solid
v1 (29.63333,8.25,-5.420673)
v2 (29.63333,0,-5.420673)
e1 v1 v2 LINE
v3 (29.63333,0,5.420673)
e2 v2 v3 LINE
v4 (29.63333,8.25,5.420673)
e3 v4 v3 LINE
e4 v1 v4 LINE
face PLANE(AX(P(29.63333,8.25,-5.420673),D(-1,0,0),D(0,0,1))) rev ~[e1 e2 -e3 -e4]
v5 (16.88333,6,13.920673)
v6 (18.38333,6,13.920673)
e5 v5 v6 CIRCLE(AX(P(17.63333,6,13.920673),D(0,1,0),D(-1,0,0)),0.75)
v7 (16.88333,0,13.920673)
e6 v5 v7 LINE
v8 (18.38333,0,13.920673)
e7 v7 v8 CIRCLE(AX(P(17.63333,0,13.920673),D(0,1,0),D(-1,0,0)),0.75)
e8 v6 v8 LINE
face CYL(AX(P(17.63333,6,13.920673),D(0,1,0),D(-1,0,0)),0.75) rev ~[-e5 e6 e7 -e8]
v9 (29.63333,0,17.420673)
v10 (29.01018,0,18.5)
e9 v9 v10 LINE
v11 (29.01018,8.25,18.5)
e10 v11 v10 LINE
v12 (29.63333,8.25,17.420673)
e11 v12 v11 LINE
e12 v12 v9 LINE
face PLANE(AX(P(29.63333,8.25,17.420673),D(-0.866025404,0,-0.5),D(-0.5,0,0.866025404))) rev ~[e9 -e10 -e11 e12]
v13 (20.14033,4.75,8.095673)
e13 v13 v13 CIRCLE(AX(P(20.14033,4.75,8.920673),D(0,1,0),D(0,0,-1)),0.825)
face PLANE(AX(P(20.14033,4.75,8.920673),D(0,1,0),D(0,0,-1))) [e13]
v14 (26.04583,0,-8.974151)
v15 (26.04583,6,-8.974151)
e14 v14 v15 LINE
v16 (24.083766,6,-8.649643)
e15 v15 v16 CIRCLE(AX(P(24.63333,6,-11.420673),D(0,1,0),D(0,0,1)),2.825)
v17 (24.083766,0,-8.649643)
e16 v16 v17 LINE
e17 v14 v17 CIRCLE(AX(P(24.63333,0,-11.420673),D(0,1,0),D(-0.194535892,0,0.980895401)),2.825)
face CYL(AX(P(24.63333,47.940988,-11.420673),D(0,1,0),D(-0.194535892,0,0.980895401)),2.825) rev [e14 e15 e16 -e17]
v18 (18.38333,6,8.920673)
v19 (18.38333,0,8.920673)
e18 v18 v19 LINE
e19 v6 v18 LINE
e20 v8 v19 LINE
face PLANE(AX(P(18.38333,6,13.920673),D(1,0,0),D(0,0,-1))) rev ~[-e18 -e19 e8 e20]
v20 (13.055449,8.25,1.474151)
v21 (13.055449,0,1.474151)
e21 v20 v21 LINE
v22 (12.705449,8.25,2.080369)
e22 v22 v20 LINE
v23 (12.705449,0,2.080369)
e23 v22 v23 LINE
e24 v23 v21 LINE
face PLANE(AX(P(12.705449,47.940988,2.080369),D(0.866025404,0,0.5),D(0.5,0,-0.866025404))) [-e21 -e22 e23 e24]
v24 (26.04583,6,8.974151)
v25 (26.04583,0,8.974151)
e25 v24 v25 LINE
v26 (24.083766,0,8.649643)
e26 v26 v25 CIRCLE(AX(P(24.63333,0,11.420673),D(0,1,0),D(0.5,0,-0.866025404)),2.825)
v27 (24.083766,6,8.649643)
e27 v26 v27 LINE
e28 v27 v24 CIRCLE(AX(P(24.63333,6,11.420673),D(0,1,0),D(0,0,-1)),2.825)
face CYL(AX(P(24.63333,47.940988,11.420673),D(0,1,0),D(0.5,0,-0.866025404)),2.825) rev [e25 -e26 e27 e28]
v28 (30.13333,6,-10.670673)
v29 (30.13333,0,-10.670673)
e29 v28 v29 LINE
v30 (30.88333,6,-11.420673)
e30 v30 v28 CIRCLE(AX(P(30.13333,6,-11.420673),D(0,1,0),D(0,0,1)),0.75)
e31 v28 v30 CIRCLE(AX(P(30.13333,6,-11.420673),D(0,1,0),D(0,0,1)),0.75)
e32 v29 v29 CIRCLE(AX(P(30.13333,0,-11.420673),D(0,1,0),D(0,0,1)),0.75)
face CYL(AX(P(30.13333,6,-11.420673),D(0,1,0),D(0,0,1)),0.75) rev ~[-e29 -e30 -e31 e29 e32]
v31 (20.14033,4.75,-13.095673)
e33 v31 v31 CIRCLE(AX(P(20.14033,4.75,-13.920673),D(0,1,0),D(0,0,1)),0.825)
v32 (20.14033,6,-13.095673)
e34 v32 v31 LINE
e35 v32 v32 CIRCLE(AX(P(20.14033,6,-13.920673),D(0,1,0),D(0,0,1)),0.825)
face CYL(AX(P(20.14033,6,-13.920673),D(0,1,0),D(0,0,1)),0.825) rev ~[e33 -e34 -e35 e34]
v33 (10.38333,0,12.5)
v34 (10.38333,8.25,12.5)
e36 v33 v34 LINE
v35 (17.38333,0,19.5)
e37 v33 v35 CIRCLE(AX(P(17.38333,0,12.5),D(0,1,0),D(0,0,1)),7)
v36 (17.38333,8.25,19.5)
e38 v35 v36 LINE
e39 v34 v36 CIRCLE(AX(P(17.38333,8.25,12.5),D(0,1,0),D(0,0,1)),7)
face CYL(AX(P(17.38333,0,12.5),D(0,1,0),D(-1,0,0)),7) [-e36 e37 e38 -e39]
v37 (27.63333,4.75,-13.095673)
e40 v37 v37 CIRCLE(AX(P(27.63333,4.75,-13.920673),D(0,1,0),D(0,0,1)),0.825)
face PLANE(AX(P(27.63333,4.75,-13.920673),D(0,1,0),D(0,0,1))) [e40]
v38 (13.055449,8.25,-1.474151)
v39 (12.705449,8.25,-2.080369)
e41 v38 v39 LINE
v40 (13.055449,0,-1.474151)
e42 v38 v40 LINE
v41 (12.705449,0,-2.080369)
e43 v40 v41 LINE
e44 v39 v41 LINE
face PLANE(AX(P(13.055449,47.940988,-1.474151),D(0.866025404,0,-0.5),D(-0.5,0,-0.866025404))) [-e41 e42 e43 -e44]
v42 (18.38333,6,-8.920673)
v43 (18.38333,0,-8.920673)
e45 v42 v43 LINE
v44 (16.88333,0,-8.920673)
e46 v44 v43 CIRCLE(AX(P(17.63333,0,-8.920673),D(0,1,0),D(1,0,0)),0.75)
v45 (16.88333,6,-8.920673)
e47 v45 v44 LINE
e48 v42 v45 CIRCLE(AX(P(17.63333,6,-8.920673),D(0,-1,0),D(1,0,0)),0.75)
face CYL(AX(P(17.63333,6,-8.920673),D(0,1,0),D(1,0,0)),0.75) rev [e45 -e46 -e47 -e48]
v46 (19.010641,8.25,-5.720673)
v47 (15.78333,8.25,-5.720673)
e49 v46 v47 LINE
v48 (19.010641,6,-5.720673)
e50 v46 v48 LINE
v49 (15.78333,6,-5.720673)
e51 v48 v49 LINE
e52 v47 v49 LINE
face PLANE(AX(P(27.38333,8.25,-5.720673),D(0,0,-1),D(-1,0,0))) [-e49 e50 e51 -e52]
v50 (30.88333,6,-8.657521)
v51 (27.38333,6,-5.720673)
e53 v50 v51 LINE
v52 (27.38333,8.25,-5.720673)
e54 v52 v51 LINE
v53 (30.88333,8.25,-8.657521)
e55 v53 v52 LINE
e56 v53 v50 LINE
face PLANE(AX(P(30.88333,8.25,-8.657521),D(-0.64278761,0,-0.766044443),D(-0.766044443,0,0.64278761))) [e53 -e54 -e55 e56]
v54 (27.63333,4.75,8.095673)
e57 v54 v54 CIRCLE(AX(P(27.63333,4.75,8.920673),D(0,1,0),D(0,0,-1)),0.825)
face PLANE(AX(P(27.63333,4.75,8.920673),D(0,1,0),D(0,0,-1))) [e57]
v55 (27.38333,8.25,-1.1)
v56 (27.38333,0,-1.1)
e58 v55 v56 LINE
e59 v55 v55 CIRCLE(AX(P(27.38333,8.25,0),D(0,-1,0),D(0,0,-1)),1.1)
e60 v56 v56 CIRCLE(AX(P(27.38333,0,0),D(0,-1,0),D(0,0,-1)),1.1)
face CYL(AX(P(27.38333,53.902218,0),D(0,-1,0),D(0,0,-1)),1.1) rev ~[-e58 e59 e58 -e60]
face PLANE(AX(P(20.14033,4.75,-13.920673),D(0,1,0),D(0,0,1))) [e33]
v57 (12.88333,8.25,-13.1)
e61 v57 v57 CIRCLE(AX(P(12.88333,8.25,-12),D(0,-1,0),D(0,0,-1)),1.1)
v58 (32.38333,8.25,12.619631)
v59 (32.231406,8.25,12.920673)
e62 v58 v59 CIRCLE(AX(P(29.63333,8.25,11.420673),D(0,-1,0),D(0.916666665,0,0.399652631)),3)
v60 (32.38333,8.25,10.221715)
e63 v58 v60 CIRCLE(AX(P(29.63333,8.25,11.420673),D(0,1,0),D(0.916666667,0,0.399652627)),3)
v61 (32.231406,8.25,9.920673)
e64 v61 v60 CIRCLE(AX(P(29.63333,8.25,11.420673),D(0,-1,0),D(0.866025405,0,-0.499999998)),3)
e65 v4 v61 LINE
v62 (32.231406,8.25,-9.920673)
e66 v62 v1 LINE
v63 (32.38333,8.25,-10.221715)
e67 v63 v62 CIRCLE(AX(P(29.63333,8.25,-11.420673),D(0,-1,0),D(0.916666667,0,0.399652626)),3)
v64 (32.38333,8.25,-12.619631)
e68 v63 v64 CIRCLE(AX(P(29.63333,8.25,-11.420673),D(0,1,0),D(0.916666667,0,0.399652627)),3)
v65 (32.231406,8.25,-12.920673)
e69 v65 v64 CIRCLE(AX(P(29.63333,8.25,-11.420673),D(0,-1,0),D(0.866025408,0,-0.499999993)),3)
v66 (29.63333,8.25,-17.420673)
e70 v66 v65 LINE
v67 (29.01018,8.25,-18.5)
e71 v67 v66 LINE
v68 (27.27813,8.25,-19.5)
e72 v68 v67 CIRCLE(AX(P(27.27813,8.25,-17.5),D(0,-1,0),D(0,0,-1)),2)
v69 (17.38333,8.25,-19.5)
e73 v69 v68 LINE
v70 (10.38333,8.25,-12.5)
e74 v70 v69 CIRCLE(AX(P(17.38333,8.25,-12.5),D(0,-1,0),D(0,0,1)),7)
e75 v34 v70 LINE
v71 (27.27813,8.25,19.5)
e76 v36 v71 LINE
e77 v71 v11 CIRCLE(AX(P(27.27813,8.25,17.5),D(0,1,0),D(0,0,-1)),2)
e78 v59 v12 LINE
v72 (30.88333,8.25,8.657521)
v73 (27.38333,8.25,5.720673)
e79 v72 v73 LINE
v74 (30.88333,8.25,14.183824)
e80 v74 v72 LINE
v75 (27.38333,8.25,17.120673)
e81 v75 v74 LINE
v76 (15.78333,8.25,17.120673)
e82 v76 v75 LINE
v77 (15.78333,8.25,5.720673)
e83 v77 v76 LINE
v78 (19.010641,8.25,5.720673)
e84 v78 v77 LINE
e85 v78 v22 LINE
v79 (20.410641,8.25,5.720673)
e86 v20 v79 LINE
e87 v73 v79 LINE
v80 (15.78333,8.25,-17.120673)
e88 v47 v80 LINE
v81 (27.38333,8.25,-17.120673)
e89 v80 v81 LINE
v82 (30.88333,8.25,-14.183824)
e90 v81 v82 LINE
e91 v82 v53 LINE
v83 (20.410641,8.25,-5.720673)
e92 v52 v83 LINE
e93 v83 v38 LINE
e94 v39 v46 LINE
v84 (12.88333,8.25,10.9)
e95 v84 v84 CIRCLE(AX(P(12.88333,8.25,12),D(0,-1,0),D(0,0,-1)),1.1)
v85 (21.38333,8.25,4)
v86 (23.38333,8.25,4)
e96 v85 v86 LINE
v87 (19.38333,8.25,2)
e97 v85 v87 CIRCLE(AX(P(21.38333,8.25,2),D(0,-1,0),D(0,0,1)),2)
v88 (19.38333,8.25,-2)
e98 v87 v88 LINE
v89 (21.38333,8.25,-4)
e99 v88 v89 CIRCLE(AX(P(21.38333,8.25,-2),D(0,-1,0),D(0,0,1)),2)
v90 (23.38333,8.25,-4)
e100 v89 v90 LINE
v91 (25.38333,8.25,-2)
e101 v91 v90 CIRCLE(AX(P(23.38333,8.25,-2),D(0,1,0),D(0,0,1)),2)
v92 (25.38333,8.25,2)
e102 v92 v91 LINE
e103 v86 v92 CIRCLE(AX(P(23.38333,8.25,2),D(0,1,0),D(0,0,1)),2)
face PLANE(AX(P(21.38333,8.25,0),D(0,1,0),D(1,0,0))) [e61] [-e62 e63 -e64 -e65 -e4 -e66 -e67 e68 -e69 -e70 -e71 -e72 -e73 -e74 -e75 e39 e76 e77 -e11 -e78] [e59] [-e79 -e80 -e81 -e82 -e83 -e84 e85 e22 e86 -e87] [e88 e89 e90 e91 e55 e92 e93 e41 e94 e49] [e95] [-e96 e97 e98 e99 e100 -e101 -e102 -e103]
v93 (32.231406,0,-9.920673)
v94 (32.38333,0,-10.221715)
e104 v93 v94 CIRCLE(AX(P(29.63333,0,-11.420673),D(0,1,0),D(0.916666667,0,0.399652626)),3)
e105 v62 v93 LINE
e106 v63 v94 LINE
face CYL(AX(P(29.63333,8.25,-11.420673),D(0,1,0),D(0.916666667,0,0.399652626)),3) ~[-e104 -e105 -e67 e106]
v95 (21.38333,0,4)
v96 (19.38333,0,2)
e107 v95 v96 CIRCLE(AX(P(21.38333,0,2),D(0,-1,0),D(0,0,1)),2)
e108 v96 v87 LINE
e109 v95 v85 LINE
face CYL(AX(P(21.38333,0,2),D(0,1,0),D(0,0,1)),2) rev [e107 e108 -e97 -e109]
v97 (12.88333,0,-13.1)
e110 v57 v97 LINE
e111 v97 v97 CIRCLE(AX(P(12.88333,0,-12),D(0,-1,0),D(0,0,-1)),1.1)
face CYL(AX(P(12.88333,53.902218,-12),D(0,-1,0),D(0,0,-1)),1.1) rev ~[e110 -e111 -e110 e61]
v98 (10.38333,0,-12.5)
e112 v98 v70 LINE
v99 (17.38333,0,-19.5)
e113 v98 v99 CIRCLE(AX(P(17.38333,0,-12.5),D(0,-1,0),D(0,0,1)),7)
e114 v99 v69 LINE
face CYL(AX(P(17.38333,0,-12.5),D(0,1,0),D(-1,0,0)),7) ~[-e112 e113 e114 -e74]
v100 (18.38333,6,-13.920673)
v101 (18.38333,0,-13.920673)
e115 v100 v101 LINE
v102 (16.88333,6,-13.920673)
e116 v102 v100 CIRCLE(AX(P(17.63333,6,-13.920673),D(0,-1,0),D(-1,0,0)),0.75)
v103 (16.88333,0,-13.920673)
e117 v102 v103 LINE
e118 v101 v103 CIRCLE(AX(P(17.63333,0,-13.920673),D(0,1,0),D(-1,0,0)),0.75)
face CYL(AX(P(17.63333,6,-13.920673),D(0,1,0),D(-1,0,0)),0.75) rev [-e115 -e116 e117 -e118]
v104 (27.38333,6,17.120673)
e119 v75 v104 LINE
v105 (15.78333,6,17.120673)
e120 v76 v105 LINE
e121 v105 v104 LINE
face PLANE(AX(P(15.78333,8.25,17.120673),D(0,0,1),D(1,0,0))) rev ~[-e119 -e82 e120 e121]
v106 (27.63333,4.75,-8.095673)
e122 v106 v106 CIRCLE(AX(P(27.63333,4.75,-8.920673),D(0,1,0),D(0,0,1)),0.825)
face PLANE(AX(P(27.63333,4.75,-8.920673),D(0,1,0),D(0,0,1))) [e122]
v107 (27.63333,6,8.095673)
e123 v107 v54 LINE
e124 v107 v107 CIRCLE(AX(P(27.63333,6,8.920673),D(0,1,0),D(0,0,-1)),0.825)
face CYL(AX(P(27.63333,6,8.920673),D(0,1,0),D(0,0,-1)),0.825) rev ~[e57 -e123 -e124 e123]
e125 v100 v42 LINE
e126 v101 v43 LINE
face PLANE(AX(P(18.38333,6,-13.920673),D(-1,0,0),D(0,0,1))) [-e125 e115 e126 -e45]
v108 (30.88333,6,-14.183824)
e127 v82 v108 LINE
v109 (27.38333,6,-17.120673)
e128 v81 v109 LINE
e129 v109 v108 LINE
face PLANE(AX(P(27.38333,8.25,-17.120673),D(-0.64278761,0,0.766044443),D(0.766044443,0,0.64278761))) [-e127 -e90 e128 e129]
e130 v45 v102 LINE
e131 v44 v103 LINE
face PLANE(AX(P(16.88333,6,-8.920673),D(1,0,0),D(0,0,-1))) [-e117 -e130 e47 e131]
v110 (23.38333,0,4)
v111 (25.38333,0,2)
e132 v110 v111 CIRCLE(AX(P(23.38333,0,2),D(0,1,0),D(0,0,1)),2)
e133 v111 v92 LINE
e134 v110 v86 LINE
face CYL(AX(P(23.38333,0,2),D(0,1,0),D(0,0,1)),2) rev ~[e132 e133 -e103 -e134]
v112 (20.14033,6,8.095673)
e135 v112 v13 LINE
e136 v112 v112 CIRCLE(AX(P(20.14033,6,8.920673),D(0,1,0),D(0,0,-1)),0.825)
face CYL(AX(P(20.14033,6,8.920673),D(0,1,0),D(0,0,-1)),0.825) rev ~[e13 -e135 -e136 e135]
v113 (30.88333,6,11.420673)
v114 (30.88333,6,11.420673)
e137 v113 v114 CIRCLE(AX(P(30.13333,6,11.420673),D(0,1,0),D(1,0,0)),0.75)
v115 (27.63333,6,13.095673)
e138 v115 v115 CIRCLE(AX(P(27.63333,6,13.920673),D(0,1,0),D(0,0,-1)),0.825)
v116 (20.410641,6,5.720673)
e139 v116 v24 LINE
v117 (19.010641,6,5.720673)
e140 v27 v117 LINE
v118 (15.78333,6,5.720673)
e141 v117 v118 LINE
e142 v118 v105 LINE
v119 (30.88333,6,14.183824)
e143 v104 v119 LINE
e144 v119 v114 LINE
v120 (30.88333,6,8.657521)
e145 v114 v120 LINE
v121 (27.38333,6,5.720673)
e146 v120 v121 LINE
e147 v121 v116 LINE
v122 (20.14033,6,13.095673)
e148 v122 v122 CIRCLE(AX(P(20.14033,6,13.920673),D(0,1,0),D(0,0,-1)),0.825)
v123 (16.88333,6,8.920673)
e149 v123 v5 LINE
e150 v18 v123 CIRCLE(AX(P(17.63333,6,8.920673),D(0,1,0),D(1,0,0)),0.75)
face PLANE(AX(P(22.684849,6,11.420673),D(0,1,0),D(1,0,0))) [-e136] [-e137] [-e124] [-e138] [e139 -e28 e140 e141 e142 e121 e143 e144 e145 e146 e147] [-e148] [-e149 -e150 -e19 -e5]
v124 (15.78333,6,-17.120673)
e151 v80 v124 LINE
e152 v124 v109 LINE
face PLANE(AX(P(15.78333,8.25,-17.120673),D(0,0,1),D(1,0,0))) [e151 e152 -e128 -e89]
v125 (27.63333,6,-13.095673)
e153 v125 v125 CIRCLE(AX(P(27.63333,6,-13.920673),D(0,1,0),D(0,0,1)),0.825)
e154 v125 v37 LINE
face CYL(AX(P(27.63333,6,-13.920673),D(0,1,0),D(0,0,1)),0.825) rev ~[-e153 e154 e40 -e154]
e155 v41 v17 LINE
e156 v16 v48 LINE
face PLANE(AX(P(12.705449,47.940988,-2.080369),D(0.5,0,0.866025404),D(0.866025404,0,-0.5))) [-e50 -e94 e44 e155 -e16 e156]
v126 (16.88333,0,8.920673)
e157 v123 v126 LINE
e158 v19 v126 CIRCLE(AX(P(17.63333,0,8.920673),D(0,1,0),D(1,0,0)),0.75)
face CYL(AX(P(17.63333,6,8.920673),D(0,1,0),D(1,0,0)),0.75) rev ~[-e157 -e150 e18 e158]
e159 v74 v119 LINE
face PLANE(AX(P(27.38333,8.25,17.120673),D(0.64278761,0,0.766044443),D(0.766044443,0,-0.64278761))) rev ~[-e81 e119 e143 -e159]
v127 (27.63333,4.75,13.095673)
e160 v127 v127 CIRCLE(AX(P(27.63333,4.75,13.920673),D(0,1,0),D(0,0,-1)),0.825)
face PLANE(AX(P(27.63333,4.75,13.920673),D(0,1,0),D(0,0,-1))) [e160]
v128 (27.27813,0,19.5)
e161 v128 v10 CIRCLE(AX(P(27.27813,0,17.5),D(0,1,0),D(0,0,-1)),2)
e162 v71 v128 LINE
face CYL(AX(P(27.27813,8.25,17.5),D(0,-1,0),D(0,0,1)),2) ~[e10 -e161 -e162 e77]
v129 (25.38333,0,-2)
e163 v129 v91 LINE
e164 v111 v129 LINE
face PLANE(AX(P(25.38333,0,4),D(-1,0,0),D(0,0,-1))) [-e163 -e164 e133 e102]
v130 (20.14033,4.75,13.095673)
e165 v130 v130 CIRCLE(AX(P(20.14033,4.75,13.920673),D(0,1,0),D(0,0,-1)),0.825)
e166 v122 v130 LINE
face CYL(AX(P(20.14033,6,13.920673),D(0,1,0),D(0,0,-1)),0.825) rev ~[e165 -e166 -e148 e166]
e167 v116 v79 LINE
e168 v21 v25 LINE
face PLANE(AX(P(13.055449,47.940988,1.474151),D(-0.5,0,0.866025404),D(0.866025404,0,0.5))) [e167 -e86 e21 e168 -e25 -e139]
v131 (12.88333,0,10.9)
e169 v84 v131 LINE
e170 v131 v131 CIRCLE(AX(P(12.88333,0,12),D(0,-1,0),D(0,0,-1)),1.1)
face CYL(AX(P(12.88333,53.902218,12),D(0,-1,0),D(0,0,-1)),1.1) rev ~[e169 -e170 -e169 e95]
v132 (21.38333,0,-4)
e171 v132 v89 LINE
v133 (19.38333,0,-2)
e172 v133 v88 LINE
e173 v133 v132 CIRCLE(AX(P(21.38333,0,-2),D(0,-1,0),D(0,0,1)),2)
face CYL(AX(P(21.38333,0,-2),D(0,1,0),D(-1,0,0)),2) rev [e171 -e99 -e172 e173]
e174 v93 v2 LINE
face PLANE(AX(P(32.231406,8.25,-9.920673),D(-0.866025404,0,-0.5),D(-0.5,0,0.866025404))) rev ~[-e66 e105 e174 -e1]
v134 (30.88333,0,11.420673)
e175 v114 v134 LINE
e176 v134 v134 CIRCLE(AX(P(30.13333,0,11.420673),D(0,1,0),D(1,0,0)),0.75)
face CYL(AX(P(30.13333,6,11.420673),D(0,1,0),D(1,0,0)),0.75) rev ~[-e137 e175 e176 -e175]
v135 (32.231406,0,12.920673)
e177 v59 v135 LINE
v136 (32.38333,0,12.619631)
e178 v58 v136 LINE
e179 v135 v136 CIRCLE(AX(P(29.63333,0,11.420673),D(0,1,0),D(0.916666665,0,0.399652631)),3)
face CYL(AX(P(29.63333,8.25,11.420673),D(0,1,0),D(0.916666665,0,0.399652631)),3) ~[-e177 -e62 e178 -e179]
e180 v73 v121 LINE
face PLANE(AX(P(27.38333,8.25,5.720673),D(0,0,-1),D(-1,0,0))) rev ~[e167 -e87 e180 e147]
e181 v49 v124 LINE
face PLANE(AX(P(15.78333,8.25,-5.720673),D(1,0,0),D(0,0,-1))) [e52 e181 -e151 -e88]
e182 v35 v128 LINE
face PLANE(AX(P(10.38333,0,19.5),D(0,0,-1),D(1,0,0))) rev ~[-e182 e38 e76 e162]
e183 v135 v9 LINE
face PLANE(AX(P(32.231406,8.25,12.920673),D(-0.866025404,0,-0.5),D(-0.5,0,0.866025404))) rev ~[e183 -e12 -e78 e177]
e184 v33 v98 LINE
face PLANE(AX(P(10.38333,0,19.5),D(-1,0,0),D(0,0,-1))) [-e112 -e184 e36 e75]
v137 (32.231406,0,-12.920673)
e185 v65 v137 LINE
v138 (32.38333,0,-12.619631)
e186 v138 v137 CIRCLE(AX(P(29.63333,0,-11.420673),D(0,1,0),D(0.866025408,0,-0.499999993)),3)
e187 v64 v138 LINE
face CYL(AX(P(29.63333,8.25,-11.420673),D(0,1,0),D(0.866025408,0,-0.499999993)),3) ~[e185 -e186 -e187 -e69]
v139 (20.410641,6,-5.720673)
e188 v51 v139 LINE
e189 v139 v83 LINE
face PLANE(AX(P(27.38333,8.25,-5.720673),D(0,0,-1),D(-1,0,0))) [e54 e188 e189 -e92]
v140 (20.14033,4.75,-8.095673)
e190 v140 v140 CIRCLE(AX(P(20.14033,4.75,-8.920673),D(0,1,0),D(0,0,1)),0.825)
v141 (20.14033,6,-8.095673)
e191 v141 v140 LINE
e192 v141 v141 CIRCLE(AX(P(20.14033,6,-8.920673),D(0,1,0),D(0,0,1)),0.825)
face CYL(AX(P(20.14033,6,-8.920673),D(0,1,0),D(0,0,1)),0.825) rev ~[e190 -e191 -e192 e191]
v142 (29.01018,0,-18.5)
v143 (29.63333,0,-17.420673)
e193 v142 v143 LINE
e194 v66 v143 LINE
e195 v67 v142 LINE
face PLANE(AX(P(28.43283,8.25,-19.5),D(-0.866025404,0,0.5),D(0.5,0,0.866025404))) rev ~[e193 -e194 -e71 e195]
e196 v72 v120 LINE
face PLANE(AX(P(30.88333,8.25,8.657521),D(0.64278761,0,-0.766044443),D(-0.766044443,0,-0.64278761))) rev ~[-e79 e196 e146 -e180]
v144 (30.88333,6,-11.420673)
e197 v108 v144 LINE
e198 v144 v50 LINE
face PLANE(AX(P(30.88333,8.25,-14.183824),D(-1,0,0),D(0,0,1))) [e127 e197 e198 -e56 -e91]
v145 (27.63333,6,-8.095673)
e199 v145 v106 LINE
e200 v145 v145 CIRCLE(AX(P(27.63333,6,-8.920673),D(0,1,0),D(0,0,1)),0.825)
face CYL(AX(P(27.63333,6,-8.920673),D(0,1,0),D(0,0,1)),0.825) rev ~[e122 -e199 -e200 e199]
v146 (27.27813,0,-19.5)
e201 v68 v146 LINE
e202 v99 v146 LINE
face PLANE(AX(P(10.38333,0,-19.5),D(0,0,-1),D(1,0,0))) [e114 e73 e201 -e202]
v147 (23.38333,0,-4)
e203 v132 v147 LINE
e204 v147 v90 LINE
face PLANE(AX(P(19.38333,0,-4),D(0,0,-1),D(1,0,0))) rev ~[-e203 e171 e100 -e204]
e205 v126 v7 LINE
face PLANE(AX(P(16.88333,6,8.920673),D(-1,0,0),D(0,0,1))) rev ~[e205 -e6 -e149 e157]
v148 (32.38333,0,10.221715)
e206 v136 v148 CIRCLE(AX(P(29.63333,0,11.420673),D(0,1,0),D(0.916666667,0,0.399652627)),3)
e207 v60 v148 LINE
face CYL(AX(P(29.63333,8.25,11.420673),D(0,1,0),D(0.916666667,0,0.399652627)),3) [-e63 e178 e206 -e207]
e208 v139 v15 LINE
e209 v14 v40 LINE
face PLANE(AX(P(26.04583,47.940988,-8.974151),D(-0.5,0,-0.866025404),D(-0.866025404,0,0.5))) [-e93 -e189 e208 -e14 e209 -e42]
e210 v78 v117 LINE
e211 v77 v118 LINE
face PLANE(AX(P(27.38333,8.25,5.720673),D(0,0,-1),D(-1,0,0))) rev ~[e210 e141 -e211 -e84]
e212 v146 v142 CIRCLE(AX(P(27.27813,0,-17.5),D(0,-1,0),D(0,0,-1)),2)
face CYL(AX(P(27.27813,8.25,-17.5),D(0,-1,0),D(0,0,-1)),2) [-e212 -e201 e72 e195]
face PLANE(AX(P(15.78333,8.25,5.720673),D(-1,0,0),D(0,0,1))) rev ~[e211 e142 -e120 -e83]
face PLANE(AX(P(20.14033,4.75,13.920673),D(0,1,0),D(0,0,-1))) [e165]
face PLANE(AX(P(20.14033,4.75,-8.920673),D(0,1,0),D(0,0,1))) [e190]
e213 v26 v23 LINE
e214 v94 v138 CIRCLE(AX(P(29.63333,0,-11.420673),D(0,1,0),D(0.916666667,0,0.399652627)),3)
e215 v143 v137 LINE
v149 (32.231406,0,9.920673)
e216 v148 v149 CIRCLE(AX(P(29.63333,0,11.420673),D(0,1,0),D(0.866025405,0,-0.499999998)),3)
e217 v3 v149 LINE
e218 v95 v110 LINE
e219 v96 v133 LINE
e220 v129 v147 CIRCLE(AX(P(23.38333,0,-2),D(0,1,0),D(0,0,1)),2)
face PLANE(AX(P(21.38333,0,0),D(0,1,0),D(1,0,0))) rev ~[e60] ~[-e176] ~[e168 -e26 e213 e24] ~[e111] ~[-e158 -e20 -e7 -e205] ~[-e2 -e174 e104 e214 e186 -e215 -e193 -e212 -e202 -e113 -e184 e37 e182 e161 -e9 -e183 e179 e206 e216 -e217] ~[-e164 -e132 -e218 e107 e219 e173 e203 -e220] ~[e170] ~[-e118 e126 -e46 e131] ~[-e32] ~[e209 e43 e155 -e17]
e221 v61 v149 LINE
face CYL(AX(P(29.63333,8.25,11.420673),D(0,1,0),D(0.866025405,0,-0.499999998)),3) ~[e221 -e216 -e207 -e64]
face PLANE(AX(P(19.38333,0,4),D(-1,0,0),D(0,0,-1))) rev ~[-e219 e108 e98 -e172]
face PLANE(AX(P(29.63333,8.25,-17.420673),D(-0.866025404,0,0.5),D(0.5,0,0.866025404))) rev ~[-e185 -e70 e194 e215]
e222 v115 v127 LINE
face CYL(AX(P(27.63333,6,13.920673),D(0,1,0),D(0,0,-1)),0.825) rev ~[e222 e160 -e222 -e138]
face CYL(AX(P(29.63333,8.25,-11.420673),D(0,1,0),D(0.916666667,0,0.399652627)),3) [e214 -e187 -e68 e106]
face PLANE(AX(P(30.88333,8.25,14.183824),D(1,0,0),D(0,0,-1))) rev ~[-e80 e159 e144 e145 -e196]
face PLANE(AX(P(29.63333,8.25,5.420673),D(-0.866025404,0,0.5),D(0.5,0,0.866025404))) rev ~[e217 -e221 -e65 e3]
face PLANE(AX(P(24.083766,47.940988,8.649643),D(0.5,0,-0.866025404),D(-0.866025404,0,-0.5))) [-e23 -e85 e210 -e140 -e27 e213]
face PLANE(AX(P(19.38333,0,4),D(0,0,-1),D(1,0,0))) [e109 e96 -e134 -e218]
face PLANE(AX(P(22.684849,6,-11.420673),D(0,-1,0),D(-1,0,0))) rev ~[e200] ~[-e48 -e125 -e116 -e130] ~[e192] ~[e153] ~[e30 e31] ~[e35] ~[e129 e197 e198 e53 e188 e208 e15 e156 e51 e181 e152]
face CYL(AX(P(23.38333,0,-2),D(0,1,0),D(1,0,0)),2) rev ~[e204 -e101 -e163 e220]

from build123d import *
from build123d.topology import SkipClean

# Parameters (mm, degrees)
SKETCH1_W                  = 22
SKETCH1_H                  = 39
SKETCH1_W_2                = 6
SKETCH1_H_2                = 8
BOSS_EXTRUDE1_DEPTH        = 8.25
CUT_EXTRUDE3_DEPTH         = 2.25
SKETCH7_R                  = 2.825
SKETCH7_R_2                = 0.825
CUT_EXTRUDE4_DEPTH         = 1.25
SKETCH9_R                  = 0.75
CUT_EXTRUDE5_DEPTH         = 39.274404999
CUT_EXTRUDE1_DEPTH         = 39.690988331
CUT_EXTRUDE1_DEPTH_BACK    = 39.690988331
SKETCH6_R                  = 2.825
BOSS_EXTRUDE2_DEPTH        = 8.25
FILLET4_R                  = 2
CUT_EXTRUDE7_DEPTH         = 39.900472274
FILLET5_R                  = 7
F_2_2_2_2_DIAMETER_HOLE1_D = 2.2
FILLET6_R                  = 2


with BuildPart() as part:
    # Sketch1 → Boss-Extrude1 (new body)
    with BuildSketch(Plane(origin=(0, 0, 0), x_dir=(1, 0, 0), z_dir=(0, 1, 0))):
        with Locations((21.383330249, 0)):
            Rectangle(SKETCH1_W, SKETCH1_H)
        with Locations((22.383330249, 0)):
            Rectangle(SKETCH1_W_2, SKETCH1_H_2, mode=Mode.SUBTRACT)
    extrude(amount=BOSS_EXTRUDE1_DEPTH)

    # Sketch8 → Cut-Extrude3 (cut)
    with BuildSketch(Plane(origin=(0, 8.25, 0), x_dir=(1, 0, 0), z_dir=(0, 1, 0))):
        Polygon((15.783330249, 17.120672783), (27.383330249, 17.120672783), (30.883330249, 14.183824074), (30.883330249, 8.657521492), (27.383330249, 5.720672783), (15.783330249, 5.720672783), align=None)
        Polygon((27.383330249, -17.120672783), (30.883330249, -14.183824074), (30.883330249, -8.657521492), (27.383330249, -5.720672783), (15.783330249, -5.720672783), (15.783330249, -17.120672783), align=None)
    extrude(amount=-CUT_EXTRUDE3_DEPTH, mode=Mode.SUBTRACT)

    # Sketch7 → Cut-Extrude4 (cut)
    with BuildSketch(Plane(origin=(0, 6, 0), x_dir=(1, 0, 0), z_dir=(0, 1, 0))):
        with Locations(Location((24.633330249, 11.420672783, 0), (0, 0, 270))):
            Circle(SKETCH7_R)
        with Locations(Location((20.140330249, 13.920672783, 0), (0, 0, 270))):
            Circle(SKETCH7_R_2)
        with Locations(Location((27.633330249, 13.920672783, 0), (0, 0, 270))):
            Circle(SKETCH7_R_2)
        with Locations(Location((27.633330249, 8.920672783, 0), (0, 0, 270))):
            Circle(SKETCH7_R_2)
        with Locations(Location((20.140330249, 8.920672783, 0), (0, 0, 270))):
            Circle(SKETCH7_R_2)
        with Locations(Location((20.140330249, -8.920672783, 0), (0, 0, 90))):
            Circle(SKETCH7_R_2)
        with Locations(Location((27.633330249, -8.920672783, 0), (0, 0, 90))):
            Circle(SKETCH7_R_2)
        with Locations(Location((27.633330249, -13.920672783, 0), (0, 0, 90))):
            Circle(SKETCH7_R_2)
        with Locations(Location((20.140330249, -13.920672783, 0), (0, 0, 90))):
            Circle(SKETCH7_R_2)
        with Locations(Location((24.633330249, -11.420672783, 0), (0, 0, 90))):
            Circle(SKETCH7_R)
    extrude(amount=-CUT_EXTRUDE4_DEPTH, mode=Mode.SUBTRACT)

    # Sketch9 → Cut-Extrude5 (cut, through all)
    with BuildSketch(Plane(origin=(0, 6, 0), x_dir=(1, 0, 0), z_dir=(0, 1, 0))):
        with Locations(Location((30.133330249, 11.420672783, 0), (0, 0, 270))):
            Circle(SKETCH9_R)
        with Locations((30.133330249, -11.420672783)):
            Circle(SKETCH9_R)
        with BuildLine():
            Line((16.883330249, 8.920672783), (16.883330249, 13.920672783))
            ThreePointArc((16.883330249, 13.920672783), (17.633330249, 14.670672783), (18.383330249, 13.920672783))
            Line((18.383330249, 13.920672783), (18.383330249, 8.920672783))
            ThreePointArc((18.383330249, 8.920672783), (17.633330249, 8.170672783), (16.883330249, 8.920672783))
        make_face()
        with BuildLine():
            Line((16.883330249, -8.920672783), (16.883330249, -13.920672783))
            ThreePointArc((16.883330249, -13.920672783), (17.633330249, -14.670672783), (18.383330249, -13.920672783))
            Line((18.383330249, -13.920672783), (18.383330249, -8.920672783))
            ThreePointArc((18.383330249, -8.920672783), (17.633330249, -8.170672783), (16.883330249, -8.920672783))
        make_face()
    extrude(amount=-CUT_EXTRUDE5_DEPTH, mode=Mode.SUBTRACT)

    # Sketch6 → Cut-Extrude1 (cut, two sides: drawn at the far end of the back side and taken through both)
    with BuildSketch(Plane(origin=(0, 8.25, 0), x_dir=(-1, 0, 0), z_dir=(0, -1, 0)).offset(-CUT_EXTRUDE1_DEPTH_BACK)):
        with Locations((-24.633330249, -11.420672783)):
            Circle(SKETCH6_R)
        with Locations((-24.633330249, 11.420672783)):
            Circle(SKETCH6_R)
        Polygon((-26.045830249, -8.974151017), (-25.695830249, -9.5803688), (-12.705449192, -2.0803688), (-13.055449192, -1.474151017), align=None)
        Polygon((-13.055449192, 1.474151017), (-12.705449192, 2.0803688), (-25.695830249, 9.5803688), (-26.045830249, 8.974151017), align=None)
    extrude(amount=CUT_EXTRUDE1_DEPTH + CUT_EXTRUDE1_DEPTH_BACK, mode=Mode.SUBTRACT)

    # Sketch11 → Boss-Extrude2 (add, through all)
    with BuildSketch(Plane(origin=(0, 8.25, 0), x_dir=(1, 0, 0), z_dir=(0, 1, 0))):
        with BuildLine():
            ThreePointArc((32.383330249, 10.221714902), (32.633330249, 11.420672783), (32.383330249, 12.619630664))
            Line((32.383330249, 12.619630664), (32.383330249, 10.221714902))
        make_face()
        with BuildLine():
            ThreePointArc((32.383330249, -12.619630664), (32.633330249, -11.420672783), (32.383330249, -10.221714902))
            Line((32.383330249, -10.221714902), (32.383330249, -12.619630664))
        make_face()
    extrude(amount=-BOSS_EXTRUDE2_DEPTH)

    # Fillet4
    fillet4_edges = [part.edges().sort_by_distance(p)[0] for p in [
        (25.383330249, 4.125, -4),
        (19.383330249, 4.125, -4),
        (19.383330249, 4.125, 4),
        (25.383330249, 4.125, 4),
    ]]
    fillet(fillet4_edges, radius=FILLET4_R)

    # Sketch11<4> → Cut-Extrude7 (cut, through all)
    with SkipClean():  # the faces are left unmerged after this step: merging them gives an invalid solid
        with BuildSketch(Plane(origin=(0, 8.25, 0), x_dir=(1, 0, 0), z_dir=(0, 1, 0))):
            with BuildLine():
                Line((29.633330249, 17.420672783), (32.231406461, 12.920672783))
                ThreePointArc((32.231406461, 12.920672783), (32.311601404, 12.772287972), (32.383330249, 12.619630664))
                Line((32.383330249, 12.619630664), (32.383330249, 19.5))
                Line((32.383330249, 19.5), (28.432830121, 19.5))
                Line((28.432830121, 19.5), (29.633330249, 17.420672783))
            make_face()
            with BuildLine():
                Line((32.383330249, -10.221714902), (32.383330249, 10.221714902))
                ThreePointArc((32.383330249, 10.221714902), (32.311601404, 10.069057593), (32.231406461, 9.920672783))
                Line((32.231406461, 9.920672783), (29.633330249, 5.420672783))
                Line((29.633330249, 5.420672783), (29.633330249, -5.420672783))
                Line((29.633330249, -5.420672783), (32.231406461, -9.920672783))
                ThreePointArc((32.231406461, -9.920672783), (32.311601404, -10.069057593), (32.383330249, -10.221714902))
            make_face()
            with BuildLine():
                Line((32.383330249, -19.5), (32.383330249, -12.619630664))
                ThreePointArc((32.383330249, -12.619630664), (32.311601404, -12.772287972), (32.231406461, -12.920672783))
                Line((32.231406461, -12.920672783), (29.633330249, -17.420672783))
                Line((29.633330249, -17.420672783), (28.432830121, -19.5))
                Line((28.432830121, -19.5), (32.383330249, -19.5))
            make_face()
        extrude(amount=-CUT_EXTRUDE7_DEPTH, mode=Mode.SUBTRACT)

    # Fillet5
    fillet5_edges = [part.edges().sort_by_distance(p)[0] for p in [
        (10.383330249, 4.125, 19.5),
        (10.383330249, 4.125, -19.5),
    ]]
    fillet(fillet5_edges, radius=FILLET5_R)

    # Ø2.2 (2.2) Diameter Hole1 (through all)
    with Locations(Plane(origin=(12.883330249, 8.25, -12), x_dir=(0, 0, 1), z_dir=(0, 1, 0))):
        with Locations((0, 0), (12, 14.5), (24, 0)):
            Hole(F_2_2_2_2_DIAMETER_HOLE1_D / 2)

    # Fillet6
    fillet6_edges = [part.edges().sort_by_distance(p)[0] for p in [
        (28.432830121, 4.125, -19.5),
        (28.432830121, 4.125, 19.5),
    ]]
    fillet(fillet6_edges, radius=FILLET6_R)


solid = part.part
